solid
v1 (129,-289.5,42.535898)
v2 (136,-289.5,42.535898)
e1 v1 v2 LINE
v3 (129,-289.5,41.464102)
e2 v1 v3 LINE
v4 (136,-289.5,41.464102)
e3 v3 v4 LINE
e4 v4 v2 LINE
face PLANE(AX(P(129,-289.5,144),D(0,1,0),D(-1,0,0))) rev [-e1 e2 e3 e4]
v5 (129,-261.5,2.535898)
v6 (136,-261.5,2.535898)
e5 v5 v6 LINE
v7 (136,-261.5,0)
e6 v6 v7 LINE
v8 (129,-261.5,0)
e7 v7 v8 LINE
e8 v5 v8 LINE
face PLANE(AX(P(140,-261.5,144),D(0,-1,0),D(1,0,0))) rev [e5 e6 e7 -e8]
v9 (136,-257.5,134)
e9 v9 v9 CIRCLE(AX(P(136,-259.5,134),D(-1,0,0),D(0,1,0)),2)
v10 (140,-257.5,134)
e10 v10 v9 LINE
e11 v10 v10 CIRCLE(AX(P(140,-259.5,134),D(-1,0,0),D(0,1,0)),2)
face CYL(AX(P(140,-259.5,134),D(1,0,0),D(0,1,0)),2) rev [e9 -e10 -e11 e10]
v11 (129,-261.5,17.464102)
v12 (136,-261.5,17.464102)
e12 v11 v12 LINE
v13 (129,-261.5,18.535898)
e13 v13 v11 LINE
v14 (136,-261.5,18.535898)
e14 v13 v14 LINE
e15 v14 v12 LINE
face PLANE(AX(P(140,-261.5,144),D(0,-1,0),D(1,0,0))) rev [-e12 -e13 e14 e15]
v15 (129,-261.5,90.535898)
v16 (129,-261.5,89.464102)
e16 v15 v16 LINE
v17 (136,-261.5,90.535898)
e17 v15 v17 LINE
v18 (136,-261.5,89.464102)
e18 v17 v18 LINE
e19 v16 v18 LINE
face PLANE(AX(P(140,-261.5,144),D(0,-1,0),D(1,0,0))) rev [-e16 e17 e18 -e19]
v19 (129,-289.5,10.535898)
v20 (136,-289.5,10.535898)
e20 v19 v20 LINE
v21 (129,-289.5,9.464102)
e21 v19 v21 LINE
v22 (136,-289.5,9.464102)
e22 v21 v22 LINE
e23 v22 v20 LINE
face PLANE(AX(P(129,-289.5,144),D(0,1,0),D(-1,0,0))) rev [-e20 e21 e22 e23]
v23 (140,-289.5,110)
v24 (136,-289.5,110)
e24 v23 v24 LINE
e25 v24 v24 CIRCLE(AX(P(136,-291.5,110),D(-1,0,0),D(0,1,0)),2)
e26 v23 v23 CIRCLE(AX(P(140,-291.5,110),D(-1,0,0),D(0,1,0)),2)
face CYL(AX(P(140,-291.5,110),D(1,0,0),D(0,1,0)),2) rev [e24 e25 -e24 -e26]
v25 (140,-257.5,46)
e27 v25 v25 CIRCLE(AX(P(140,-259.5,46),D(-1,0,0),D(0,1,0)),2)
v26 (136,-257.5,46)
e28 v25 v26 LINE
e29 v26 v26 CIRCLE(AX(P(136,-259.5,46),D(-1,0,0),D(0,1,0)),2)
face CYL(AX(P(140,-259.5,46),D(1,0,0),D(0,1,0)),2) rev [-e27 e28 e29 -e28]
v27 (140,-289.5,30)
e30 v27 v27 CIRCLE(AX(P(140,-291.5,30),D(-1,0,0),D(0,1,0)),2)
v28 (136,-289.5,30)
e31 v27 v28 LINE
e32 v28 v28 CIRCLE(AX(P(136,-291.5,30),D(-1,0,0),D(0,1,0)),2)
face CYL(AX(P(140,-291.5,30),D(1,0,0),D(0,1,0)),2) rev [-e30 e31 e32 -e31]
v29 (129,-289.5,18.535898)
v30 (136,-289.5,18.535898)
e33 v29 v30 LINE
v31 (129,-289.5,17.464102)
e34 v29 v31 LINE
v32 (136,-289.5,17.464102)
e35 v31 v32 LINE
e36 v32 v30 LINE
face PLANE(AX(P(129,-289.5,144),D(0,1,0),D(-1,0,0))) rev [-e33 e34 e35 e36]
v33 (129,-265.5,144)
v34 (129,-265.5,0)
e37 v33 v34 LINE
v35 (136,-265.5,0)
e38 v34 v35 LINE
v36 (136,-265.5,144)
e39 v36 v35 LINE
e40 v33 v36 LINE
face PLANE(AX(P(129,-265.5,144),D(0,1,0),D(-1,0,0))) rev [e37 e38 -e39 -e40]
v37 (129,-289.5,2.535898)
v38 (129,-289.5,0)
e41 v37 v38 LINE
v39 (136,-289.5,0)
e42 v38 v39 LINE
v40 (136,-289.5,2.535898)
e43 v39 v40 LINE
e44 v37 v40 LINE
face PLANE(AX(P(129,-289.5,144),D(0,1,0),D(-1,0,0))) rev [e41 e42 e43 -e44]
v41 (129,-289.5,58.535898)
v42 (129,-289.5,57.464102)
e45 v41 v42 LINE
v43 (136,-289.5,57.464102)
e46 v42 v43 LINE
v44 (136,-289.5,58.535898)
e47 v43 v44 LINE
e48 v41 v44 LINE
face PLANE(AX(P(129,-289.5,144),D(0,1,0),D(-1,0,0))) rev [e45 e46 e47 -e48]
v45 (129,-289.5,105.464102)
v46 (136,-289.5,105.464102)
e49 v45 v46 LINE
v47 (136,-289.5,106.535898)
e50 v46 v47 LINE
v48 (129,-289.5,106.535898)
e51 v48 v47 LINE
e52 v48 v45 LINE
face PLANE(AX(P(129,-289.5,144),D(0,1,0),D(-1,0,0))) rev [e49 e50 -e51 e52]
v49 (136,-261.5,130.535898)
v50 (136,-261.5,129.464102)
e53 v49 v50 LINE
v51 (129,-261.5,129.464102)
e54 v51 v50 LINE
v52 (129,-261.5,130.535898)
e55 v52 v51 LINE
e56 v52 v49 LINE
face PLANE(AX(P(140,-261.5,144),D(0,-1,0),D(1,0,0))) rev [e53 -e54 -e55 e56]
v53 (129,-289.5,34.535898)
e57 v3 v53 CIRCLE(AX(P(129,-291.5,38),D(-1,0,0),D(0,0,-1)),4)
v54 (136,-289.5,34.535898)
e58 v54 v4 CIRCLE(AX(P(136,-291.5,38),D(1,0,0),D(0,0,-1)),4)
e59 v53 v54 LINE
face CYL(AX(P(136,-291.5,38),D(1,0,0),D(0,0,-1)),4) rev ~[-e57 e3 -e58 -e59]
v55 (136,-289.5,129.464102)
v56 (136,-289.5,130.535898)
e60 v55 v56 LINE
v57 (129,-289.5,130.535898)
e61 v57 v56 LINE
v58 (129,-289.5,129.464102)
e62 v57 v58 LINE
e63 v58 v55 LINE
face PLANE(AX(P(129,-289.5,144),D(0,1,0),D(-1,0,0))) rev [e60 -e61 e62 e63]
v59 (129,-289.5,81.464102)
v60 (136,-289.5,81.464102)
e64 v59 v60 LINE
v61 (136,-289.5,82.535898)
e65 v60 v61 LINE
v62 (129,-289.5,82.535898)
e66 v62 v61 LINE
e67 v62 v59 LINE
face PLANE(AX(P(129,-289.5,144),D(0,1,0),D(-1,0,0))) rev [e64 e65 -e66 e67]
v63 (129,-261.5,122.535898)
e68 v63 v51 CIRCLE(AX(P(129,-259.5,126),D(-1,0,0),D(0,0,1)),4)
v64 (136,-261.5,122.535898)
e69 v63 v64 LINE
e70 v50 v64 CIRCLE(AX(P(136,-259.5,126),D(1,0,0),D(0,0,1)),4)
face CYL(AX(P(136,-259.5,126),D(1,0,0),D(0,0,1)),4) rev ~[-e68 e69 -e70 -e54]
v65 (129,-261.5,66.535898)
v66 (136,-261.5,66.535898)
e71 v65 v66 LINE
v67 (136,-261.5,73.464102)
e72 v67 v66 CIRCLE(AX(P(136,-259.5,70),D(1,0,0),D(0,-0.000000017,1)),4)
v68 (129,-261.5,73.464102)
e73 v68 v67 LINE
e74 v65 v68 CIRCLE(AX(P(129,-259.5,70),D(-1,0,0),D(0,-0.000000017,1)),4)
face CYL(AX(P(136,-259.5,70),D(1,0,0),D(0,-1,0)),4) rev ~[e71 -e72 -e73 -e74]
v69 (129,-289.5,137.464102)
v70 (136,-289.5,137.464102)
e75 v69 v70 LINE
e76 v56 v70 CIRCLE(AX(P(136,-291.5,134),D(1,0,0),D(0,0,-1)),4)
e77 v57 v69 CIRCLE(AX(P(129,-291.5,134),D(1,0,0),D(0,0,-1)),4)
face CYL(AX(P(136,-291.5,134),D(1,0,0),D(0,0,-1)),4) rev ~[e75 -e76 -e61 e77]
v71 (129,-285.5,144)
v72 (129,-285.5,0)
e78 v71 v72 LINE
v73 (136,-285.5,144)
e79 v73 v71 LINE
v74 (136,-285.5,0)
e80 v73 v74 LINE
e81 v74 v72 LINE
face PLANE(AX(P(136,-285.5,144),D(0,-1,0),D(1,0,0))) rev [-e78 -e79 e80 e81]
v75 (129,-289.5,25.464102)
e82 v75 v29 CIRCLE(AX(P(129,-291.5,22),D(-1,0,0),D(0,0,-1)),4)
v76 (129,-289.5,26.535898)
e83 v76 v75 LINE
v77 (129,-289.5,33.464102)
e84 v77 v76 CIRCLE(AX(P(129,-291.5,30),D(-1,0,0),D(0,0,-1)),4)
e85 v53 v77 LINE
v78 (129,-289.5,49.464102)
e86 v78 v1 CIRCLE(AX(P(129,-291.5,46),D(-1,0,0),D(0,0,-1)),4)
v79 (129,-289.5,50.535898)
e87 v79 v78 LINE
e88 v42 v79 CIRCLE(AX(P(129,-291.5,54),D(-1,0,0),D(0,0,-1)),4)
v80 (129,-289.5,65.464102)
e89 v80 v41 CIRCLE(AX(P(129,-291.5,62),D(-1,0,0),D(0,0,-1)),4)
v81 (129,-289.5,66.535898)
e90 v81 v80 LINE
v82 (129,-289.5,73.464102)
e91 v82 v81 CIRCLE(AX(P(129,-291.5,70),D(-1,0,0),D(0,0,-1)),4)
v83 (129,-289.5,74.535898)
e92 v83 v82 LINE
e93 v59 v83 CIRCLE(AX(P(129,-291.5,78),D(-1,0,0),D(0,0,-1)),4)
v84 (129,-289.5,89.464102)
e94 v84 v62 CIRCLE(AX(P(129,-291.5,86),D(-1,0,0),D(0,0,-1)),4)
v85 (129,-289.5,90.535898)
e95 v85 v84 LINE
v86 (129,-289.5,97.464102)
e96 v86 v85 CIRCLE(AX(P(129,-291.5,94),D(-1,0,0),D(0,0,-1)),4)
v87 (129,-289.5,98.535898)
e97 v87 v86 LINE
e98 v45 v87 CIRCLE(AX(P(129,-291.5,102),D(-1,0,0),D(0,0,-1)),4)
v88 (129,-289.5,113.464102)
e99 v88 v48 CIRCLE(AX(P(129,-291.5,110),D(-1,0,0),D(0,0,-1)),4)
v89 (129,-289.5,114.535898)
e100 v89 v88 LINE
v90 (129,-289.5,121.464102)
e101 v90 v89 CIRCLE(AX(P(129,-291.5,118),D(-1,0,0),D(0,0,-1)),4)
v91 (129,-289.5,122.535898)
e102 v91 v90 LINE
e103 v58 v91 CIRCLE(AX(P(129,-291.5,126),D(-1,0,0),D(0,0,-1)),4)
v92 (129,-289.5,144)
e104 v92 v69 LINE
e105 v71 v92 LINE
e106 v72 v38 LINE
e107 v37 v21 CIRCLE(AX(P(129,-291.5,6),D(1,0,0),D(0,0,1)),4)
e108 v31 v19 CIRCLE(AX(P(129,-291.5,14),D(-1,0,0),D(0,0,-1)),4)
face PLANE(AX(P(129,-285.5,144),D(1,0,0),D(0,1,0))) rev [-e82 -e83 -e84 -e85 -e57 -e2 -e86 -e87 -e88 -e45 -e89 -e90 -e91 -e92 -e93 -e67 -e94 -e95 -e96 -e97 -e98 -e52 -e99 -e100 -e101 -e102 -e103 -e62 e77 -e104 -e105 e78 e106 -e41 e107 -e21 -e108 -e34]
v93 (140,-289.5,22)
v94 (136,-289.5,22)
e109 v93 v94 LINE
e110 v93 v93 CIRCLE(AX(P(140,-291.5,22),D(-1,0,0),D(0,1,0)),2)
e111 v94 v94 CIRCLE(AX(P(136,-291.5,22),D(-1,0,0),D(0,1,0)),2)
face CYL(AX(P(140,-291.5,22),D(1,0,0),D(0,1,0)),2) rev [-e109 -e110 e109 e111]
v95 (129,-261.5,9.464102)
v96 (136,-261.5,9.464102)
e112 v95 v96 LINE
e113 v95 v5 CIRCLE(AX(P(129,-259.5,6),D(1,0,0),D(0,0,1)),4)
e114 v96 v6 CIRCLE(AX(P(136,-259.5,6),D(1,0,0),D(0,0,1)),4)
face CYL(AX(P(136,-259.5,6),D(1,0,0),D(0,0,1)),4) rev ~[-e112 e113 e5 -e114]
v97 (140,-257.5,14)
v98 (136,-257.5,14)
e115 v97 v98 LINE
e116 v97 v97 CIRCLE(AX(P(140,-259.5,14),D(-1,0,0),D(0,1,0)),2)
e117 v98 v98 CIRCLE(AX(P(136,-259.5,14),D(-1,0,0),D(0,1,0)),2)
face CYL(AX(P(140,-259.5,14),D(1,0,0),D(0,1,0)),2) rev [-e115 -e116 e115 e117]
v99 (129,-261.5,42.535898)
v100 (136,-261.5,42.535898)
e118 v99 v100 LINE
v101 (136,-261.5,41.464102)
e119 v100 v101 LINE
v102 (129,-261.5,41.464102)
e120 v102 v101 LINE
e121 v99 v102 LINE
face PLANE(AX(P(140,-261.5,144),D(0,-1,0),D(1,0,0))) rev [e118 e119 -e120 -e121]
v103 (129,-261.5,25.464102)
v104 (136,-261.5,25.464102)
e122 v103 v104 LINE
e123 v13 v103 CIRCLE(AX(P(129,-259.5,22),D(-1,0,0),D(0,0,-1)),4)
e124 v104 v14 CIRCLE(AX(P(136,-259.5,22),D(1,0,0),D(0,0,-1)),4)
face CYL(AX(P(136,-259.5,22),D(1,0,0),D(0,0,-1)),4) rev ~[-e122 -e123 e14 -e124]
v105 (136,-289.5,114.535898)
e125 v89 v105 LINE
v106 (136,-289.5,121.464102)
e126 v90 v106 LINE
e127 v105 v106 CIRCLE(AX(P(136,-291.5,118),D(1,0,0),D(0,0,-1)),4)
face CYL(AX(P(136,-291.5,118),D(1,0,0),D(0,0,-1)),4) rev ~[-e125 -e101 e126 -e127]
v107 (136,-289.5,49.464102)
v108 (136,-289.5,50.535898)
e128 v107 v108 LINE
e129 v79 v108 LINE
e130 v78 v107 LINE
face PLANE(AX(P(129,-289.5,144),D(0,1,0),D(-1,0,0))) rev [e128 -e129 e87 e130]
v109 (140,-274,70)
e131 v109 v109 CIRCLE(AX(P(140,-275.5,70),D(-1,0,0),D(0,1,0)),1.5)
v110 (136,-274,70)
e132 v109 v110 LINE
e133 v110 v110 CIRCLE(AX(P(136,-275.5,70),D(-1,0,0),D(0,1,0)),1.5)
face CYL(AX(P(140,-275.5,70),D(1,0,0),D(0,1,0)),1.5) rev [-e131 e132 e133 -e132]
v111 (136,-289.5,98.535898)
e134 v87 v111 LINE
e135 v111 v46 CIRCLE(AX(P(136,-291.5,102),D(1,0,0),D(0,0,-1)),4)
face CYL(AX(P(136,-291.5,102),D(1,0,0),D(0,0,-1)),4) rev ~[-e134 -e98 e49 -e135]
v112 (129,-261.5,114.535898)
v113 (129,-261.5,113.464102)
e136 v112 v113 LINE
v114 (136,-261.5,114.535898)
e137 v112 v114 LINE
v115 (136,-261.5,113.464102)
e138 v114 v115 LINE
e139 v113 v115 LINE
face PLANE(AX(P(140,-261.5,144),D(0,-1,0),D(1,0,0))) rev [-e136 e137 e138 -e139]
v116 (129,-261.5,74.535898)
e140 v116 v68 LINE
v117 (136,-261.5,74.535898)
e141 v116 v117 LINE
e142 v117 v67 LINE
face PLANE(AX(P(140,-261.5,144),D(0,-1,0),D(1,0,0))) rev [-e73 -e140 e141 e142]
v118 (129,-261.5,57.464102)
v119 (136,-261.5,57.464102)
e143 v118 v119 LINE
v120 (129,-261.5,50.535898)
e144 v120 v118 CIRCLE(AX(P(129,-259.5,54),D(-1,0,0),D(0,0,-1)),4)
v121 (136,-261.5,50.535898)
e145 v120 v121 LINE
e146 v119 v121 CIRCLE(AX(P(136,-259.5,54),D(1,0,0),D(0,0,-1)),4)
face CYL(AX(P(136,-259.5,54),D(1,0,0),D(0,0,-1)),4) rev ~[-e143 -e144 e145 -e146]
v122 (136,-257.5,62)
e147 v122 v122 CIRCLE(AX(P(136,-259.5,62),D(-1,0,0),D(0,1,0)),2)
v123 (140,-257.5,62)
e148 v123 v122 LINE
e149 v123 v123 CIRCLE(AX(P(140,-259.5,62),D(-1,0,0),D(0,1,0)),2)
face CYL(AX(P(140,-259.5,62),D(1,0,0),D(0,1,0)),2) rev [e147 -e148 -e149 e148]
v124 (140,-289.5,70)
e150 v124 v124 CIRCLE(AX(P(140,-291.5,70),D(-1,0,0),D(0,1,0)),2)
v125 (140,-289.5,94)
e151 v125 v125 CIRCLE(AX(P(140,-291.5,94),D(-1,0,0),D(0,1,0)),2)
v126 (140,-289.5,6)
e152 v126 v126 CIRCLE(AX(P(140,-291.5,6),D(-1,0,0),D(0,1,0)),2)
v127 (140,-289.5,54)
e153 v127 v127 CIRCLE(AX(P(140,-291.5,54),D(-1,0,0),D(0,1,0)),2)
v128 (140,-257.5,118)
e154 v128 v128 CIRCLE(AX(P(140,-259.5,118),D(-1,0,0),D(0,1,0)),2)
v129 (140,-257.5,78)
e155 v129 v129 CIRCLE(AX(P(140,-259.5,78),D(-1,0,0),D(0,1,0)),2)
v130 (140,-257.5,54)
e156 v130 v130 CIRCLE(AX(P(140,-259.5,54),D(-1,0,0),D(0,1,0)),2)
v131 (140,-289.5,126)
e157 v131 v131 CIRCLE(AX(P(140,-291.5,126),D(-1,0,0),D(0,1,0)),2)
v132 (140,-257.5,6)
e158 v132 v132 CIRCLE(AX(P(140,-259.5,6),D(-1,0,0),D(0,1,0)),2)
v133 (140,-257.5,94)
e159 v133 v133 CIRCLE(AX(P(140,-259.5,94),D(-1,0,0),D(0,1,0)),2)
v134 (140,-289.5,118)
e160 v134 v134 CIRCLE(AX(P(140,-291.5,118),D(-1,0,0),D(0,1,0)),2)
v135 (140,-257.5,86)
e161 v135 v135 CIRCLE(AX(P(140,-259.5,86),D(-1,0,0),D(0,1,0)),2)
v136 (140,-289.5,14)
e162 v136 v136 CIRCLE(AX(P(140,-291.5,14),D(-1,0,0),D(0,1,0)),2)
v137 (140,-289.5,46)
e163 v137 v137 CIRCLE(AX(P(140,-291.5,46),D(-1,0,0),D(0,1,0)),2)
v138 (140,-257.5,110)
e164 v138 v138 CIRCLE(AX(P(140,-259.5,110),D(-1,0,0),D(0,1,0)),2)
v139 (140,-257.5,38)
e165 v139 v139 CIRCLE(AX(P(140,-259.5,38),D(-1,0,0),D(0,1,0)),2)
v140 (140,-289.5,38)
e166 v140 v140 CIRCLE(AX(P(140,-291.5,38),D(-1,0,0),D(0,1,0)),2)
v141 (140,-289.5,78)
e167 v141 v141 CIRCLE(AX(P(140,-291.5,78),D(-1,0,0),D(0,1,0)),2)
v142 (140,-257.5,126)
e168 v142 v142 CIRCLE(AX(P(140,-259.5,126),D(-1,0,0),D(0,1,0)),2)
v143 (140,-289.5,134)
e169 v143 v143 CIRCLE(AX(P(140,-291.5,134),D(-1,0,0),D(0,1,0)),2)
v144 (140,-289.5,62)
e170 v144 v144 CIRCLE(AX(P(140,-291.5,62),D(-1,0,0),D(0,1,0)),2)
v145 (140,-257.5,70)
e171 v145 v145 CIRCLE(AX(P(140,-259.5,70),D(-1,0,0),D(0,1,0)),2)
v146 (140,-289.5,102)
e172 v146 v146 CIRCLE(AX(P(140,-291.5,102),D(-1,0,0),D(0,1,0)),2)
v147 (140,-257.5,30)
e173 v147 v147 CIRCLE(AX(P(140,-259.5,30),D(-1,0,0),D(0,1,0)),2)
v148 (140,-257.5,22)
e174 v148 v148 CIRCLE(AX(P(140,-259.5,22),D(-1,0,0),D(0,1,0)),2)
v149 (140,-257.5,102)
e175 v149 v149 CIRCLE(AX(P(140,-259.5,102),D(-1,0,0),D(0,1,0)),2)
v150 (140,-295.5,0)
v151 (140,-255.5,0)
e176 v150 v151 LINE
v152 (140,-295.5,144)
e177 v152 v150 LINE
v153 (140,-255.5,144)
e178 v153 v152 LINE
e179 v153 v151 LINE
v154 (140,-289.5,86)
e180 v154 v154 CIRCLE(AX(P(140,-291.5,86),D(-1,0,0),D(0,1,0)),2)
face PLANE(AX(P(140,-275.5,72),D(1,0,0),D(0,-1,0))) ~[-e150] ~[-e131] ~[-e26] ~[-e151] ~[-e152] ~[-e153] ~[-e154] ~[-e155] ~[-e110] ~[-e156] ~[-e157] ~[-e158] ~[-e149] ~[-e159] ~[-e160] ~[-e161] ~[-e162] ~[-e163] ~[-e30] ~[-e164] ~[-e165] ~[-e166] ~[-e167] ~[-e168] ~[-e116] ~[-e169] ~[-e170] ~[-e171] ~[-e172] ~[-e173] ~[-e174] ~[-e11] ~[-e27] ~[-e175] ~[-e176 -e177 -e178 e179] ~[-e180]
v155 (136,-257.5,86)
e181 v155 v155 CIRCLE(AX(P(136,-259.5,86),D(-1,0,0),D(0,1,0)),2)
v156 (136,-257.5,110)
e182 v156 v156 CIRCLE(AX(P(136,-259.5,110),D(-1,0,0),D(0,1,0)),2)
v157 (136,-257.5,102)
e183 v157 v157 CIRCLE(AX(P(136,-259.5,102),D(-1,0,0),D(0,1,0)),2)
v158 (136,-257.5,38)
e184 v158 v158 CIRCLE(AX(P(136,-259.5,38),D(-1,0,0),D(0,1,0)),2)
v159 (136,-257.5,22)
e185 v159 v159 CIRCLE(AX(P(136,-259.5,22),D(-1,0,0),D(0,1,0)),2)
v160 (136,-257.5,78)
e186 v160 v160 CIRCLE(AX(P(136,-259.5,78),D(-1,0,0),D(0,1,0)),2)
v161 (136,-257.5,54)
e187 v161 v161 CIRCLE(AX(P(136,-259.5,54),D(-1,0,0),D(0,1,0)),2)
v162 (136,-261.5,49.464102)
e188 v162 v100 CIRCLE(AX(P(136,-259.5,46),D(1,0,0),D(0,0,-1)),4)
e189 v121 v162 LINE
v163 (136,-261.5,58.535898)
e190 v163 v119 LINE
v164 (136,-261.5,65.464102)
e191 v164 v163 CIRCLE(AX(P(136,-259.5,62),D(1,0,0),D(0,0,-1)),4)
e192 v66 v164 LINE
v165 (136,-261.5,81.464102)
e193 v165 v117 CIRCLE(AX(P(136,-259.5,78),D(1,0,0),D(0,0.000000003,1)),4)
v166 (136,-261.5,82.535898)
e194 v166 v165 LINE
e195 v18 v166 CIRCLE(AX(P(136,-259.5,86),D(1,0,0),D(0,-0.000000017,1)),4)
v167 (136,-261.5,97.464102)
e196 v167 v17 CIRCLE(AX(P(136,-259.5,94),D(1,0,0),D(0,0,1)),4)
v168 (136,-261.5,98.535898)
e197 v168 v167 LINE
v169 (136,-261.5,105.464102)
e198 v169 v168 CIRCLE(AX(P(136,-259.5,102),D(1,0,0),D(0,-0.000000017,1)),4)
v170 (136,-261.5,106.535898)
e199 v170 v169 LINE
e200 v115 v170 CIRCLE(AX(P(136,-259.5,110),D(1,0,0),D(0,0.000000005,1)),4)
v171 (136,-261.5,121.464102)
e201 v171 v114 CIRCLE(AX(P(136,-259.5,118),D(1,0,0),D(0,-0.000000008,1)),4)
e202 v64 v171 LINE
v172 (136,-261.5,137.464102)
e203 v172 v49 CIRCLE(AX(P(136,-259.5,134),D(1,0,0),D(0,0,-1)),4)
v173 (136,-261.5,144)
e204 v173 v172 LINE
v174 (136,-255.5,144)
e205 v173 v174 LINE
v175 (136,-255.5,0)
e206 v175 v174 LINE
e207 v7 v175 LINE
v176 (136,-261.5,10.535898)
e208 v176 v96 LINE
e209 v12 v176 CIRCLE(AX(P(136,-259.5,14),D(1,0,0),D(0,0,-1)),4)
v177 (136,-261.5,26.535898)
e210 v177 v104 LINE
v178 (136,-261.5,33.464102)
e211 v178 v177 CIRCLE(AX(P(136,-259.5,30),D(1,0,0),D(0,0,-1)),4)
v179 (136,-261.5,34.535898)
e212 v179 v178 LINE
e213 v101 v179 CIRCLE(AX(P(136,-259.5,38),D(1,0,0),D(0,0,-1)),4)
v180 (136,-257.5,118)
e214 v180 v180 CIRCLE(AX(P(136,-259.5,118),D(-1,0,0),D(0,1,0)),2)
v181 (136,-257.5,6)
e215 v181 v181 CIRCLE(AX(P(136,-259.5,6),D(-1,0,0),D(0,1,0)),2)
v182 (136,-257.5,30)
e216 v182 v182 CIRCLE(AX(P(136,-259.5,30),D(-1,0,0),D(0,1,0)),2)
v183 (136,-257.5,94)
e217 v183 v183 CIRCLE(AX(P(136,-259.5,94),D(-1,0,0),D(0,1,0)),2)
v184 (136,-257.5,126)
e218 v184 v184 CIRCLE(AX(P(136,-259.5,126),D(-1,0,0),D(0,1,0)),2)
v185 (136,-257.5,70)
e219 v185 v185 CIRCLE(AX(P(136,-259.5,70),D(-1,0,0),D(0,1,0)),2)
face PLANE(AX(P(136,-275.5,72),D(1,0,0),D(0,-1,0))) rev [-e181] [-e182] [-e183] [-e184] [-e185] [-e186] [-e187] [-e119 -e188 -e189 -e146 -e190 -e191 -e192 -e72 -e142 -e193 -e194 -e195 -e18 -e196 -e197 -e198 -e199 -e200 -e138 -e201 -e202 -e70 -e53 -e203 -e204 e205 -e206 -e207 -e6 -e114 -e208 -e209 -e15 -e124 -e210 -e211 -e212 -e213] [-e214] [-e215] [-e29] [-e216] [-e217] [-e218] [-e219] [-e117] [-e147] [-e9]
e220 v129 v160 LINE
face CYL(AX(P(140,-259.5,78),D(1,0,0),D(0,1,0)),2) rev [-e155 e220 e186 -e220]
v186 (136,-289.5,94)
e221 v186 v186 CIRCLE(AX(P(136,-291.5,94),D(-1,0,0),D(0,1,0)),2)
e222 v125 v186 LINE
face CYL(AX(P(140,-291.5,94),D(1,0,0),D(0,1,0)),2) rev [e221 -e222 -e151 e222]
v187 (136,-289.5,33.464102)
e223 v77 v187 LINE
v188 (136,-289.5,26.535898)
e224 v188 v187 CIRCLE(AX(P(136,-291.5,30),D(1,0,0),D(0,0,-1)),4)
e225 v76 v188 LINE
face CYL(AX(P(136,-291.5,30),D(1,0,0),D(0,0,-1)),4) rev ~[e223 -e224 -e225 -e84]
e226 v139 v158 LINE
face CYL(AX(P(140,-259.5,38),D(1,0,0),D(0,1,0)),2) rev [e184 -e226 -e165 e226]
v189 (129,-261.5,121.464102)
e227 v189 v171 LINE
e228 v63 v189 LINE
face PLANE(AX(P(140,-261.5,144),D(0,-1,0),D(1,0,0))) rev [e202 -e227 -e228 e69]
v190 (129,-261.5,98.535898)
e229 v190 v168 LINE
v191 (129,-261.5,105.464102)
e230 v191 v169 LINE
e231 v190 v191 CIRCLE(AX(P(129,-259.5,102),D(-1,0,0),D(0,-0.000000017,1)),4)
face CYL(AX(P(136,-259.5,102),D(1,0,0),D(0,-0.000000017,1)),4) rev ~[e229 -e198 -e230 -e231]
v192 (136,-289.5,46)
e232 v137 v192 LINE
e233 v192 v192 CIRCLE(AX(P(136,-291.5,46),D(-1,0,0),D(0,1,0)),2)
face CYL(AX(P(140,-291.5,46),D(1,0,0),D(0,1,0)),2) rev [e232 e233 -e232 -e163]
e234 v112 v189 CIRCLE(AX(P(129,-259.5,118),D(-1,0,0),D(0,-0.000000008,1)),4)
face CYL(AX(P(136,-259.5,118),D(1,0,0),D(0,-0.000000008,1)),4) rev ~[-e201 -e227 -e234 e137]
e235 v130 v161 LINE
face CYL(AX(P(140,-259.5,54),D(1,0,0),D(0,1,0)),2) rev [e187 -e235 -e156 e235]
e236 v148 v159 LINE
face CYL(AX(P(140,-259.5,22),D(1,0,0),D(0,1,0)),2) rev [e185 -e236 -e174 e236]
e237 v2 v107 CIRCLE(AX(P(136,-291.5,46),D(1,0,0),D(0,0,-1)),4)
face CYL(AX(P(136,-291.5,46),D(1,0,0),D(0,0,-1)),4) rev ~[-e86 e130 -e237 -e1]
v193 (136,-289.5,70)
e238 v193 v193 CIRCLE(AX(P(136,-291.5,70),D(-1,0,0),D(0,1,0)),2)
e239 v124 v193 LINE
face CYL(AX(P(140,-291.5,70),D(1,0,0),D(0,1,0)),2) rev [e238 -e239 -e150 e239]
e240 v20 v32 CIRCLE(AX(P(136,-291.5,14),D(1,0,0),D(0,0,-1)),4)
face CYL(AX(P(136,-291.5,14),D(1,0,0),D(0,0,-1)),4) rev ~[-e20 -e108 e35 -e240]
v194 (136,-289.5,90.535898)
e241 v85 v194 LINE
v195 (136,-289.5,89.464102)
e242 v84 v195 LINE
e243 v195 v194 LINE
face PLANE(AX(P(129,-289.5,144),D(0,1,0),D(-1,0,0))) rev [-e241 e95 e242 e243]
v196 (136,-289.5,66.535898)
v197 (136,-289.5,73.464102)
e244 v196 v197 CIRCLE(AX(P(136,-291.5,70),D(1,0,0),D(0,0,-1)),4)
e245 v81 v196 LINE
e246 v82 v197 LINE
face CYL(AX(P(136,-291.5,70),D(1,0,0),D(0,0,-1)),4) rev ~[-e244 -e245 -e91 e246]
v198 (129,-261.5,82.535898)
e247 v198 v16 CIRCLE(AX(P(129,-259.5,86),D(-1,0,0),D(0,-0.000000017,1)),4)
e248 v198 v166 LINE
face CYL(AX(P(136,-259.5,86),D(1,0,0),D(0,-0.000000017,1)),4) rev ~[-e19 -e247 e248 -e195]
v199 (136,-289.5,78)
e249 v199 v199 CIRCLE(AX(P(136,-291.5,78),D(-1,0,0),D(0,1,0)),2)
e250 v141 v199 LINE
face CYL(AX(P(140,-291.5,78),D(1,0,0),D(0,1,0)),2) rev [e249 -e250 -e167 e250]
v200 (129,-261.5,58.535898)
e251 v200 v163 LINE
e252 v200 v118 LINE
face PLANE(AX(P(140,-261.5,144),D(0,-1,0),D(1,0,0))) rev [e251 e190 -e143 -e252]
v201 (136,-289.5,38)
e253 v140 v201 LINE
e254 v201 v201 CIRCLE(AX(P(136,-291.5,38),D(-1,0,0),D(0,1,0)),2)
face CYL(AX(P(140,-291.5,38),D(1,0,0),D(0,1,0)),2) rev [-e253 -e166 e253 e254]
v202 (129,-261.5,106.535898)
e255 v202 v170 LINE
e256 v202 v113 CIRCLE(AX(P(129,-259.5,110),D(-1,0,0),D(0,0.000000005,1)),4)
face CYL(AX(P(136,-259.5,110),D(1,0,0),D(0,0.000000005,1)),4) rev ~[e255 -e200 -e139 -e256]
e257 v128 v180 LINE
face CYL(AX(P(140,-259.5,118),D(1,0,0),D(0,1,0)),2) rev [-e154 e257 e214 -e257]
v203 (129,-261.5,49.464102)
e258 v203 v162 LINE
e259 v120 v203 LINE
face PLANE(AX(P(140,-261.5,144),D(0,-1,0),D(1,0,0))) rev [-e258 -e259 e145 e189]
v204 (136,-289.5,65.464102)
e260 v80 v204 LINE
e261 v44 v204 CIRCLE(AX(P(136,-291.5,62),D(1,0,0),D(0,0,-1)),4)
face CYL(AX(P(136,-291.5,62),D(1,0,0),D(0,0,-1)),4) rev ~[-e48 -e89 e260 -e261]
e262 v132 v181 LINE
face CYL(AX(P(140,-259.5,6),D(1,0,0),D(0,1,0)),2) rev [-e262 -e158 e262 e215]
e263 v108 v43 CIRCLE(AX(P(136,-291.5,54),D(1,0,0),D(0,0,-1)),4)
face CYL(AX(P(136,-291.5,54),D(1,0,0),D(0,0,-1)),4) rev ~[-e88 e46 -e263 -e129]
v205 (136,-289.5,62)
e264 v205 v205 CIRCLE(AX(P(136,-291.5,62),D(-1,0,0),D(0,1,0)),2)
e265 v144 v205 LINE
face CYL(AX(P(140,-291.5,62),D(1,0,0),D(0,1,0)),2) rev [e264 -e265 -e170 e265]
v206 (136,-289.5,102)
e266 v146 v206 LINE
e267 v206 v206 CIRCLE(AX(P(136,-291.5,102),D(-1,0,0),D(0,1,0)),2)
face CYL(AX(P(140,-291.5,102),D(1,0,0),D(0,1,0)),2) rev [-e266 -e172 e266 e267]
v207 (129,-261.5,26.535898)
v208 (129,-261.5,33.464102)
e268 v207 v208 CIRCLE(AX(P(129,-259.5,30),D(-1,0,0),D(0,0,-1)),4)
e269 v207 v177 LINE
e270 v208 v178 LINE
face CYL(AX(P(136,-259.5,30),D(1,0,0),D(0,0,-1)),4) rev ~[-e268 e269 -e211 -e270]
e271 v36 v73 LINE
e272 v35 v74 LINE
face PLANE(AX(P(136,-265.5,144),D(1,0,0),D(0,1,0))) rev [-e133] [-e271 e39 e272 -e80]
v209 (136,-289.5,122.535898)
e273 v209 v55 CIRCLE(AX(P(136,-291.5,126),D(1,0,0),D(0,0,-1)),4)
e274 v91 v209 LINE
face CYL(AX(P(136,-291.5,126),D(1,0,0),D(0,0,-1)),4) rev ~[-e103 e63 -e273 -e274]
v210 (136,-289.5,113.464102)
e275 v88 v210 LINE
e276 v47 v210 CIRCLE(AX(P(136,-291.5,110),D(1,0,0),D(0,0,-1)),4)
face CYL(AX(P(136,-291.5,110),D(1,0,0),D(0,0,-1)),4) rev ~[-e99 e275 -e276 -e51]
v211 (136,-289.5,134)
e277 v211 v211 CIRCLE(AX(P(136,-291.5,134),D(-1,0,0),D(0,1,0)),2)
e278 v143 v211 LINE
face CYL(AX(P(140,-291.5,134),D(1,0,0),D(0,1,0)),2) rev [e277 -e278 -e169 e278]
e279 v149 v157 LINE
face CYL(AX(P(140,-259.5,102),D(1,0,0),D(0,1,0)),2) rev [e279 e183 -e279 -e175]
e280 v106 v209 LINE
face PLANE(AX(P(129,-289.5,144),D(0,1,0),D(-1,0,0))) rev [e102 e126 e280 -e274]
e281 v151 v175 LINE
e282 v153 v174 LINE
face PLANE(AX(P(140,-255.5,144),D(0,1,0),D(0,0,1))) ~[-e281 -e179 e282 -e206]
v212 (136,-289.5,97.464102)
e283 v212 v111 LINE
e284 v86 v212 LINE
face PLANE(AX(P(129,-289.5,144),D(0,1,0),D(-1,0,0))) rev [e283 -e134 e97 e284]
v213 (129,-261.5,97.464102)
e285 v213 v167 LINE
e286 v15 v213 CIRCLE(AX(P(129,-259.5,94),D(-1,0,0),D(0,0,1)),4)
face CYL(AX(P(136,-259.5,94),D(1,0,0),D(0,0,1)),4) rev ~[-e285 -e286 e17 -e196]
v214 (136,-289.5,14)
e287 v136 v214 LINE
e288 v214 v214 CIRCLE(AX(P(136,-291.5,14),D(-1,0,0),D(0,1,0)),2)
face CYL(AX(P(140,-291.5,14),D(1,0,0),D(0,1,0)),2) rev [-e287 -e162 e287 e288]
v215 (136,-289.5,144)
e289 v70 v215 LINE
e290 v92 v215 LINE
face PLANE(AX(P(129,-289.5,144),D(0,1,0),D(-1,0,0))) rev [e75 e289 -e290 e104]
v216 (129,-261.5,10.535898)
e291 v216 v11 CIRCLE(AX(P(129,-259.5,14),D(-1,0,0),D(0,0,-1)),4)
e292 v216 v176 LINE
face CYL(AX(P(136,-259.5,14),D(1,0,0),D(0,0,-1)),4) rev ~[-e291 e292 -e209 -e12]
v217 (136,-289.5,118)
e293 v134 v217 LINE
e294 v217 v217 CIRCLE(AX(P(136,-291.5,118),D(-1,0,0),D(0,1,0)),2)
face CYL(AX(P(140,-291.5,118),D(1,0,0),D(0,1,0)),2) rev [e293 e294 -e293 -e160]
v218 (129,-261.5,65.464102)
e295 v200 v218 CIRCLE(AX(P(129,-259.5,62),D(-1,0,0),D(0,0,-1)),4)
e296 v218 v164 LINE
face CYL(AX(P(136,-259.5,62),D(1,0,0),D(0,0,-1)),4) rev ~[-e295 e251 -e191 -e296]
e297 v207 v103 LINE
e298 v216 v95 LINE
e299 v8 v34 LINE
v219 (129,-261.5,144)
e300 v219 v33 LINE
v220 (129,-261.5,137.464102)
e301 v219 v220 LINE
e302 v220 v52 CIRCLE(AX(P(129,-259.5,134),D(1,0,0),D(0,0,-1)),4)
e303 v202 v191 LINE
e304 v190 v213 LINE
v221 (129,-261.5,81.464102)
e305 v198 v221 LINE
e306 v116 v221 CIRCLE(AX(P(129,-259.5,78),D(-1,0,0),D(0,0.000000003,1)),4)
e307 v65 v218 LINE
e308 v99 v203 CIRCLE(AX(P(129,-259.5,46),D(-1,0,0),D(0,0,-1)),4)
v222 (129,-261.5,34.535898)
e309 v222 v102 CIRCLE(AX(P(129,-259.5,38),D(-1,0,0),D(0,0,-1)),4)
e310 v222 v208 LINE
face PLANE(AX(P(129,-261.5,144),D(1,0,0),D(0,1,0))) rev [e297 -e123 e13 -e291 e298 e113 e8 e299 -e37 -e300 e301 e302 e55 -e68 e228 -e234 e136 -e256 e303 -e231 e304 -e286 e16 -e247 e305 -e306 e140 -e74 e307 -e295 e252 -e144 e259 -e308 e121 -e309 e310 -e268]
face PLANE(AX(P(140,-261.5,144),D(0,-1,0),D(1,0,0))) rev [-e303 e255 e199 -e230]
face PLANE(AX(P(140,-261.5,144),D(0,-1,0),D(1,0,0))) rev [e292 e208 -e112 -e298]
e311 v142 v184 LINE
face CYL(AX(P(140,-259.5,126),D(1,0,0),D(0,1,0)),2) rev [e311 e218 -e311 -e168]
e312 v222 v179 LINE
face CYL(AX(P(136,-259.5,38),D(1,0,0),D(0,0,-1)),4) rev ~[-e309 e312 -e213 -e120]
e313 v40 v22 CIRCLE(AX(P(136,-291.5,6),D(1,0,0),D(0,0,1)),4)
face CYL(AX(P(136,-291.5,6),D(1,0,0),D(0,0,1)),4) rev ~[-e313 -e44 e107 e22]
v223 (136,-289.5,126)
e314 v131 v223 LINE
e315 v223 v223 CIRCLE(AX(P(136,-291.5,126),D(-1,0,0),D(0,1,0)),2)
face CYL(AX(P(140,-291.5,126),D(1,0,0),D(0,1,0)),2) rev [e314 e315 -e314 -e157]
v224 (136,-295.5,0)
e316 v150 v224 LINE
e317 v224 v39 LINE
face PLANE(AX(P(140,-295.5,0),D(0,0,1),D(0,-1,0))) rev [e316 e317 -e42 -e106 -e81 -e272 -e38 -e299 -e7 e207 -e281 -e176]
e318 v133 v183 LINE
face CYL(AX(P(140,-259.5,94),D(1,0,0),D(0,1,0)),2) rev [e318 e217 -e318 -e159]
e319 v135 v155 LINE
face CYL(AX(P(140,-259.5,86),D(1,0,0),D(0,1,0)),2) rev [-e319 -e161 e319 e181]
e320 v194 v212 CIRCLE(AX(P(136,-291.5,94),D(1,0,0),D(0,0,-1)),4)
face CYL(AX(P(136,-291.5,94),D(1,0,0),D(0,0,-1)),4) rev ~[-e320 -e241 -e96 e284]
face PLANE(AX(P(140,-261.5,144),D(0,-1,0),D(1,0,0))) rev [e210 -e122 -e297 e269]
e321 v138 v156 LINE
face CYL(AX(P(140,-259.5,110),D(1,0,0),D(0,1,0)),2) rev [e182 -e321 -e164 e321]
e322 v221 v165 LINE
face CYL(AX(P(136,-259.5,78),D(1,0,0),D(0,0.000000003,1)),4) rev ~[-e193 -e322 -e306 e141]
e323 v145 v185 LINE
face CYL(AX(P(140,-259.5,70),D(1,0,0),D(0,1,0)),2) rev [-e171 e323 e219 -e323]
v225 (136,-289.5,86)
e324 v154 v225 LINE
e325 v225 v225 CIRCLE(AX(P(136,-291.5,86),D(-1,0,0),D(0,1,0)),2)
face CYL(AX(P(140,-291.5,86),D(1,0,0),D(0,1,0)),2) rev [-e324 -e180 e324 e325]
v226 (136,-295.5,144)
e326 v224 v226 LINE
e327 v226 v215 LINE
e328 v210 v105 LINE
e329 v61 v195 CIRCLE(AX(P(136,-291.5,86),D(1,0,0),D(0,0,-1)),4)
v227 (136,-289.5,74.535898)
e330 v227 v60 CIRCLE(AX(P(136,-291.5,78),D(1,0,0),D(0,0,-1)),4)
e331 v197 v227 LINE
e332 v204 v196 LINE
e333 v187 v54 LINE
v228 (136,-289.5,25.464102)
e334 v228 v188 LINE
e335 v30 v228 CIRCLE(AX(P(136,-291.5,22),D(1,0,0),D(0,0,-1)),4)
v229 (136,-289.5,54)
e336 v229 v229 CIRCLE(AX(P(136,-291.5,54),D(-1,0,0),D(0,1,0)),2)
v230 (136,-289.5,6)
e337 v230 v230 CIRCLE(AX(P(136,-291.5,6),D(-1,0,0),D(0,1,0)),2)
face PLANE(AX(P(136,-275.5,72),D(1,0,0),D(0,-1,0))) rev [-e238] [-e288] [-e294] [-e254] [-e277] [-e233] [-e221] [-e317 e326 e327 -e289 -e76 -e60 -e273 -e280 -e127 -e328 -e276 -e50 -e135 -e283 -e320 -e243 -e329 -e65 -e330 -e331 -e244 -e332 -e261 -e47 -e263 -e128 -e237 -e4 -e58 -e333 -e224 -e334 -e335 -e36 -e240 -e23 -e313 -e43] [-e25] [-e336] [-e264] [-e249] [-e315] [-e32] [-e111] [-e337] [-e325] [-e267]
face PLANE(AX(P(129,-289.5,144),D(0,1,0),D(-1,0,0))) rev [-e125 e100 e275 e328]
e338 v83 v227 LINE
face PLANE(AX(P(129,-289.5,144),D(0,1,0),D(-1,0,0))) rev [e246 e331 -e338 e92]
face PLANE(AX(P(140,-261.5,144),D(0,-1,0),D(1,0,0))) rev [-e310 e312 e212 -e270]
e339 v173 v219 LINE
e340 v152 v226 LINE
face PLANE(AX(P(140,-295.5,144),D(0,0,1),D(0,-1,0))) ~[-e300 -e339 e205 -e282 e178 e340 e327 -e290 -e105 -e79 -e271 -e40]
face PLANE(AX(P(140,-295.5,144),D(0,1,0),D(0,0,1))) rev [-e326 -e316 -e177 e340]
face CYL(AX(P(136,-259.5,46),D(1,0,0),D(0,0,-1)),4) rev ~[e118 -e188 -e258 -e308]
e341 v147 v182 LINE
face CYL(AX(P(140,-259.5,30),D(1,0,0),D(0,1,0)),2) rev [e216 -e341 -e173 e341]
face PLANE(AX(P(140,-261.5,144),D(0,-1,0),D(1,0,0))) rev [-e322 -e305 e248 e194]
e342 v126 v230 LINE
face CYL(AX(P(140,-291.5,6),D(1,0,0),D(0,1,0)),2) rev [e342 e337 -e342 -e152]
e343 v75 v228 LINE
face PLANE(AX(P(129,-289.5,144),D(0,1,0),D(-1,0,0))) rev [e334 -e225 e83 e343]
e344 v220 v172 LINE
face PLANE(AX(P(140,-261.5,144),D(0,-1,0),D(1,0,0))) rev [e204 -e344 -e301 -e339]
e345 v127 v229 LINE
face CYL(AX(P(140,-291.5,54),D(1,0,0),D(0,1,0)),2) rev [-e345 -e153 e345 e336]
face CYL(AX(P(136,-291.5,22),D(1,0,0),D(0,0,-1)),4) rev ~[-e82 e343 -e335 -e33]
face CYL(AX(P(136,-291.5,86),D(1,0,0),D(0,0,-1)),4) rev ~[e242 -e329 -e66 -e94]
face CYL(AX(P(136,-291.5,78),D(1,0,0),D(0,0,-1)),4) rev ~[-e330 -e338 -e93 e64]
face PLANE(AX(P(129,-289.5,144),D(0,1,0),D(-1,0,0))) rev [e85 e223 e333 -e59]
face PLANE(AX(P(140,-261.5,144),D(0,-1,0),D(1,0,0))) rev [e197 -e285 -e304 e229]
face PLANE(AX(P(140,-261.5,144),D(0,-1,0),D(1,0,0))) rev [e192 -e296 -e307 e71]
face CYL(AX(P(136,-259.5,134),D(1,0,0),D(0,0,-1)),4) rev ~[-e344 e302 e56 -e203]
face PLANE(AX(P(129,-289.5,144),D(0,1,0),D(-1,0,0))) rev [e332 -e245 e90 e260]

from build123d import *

# Parameters (mm, degrees)
PAD039_DEPTH            = 144
SKETCH079_W             = 40
SKETCH079_H             = 144
PAD040_DEPTH            = 4
SKETCH080_R             = 1.5
POCKET038_DEPTH         = 5
SKETCH081_R             = 2
POCKET039_DEPTH         = 4
SKETCH082_R             = 4
POCKET040_DEPTH         = 7
BODY022_PLACEMENT_ANGLE = 90


with BuildPart() as leftback002:
    # Sketch078 → Pad039 (new body)
    with BuildSketch(Plane.XZ):
        Polygon((0, 0), (0, 10), (7, 10), (7, 14), (-4, 14), (-4, -14), (7, -14), (7, -10), (0, -10), align=None)
    extrude(amount=PAD039_DEPTH)

    # Sketch079 (on Face4 of Pad039) → Pad040 (join)
    with BuildSketch(Plane(origin=(-4, 0, 0), x_dir=(0, 0, -1), z_dir=(-1, 0, 0))):
        with Locations((0, 72)):
            Rectangle(SKETCH079_W, SKETCH079_H)
    extrude(amount=-PAD040_DEPTH)

    # Sketch080 (on Face14 of Pad040) → Pocket038 (cut)
    with BuildSketch(Plane(origin=(-4, 0, 0), x_dir=(0, 0, -1), z_dir=(-1, 0, 0))):
        with Locations((0, 74)):
            Circle(SKETCH080_R)
    extrude(amount=-POCKET038_DEPTH, mode=Mode.SUBTRACT)

    # Sketch081 (on Face13 of Pocket038) → Pocket039 (cut)
    with BuildSketch(Plane(origin=(-4, 0, 0), x_dir=(0, 0, -1), z_dir=(-1, 0, 0))):
        with Locations((-16, 10)):
            Circle(SKETCH081_R)
        with Locations((-16, 18)):
            Circle(SKETCH081_R)
        with Locations((-16, 26)):
            Circle(SKETCH081_R)
        with Locations((-16, 34)):
            Circle(SKETCH081_R)
        with Locations((-16, 42)):
            Circle(SKETCH081_R)
        with Locations((-16, 50)):
            Circle(SKETCH081_R)
        with Locations((-16, 58)):
            Circle(SKETCH081_R)
        with Locations((-16, 66)):
            Circle(SKETCH081_R)
        with Locations((-16, 138)):
            Circle(SKETCH081_R)
        with Locations((-16, 130)):
            Circle(SKETCH081_R)
        with Locations((-16, 122)):
            Circle(SKETCH081_R)
        with Locations((-16, 114)):
            Circle(SKETCH081_R)
        with Locations((-16, 106)):
            Circle(SKETCH081_R)
        with Locations((-16, 98)):
            Circle(SKETCH081_R)
        with Locations((-16, 90)):
            Circle(SKETCH081_R)
        with Locations((-16, 82)):
            Circle(SKETCH081_R)
        with Locations((-16, 74)):
            Circle(SKETCH081_R)
        with Locations((16, 138)):
            Circle(SKETCH081_R)
        with Locations((16, 130)):
            Circle(SKETCH081_R)
        with Locations((16, 122)):
            Circle(SKETCH081_R)
        with Locations((16, 114)):
            Circle(SKETCH081_R)
        with Locations((16, 106)):
            Circle(SKETCH081_R)
        with Locations((16, 98)):
            Circle(SKETCH081_R)
        with Locations((16, 90)):
            Circle(SKETCH081_R)
        with Locations((16, 82)):
            Circle(SKETCH081_R)
        with Locations((16, 74)):
            Circle(SKETCH081_R)
        with Locations((16, 66)):
            Circle(SKETCH081_R)
        with Locations((16, 58)):
            Circle(SKETCH081_R)
        with Locations((16, 50)):
            Circle(SKETCH081_R)
        with Locations((16, 42)):
            Circle(SKETCH081_R)
        with Locations((16, 34)):
            Circle(SKETCH081_R)
        with Locations((16, 26)):
            Circle(SKETCH081_R)
        with Locations((16, 18)):
            Circle(SKETCH081_R)
        with Locations((16, 10)):
            Circle(SKETCH081_R)
    extrude(amount=-POCKET039_DEPTH, mode=Mode.SUBTRACT)

    # Sketch082 (on Face15 of Pocket038) → Pocket040 (cut)
    with BuildSketch(Plane(origin=(0, 0, 0), x_dir=(0, 0, 1), z_dir=(1, 0, 0))):
        with Locations((-16, 10)):
            Circle(SKETCH082_R)
        with Locations((-16, 18)):
            Circle(SKETCH082_R)
        with Locations((-16, 26)):
            Circle(SKETCH082_R)
        with Locations((-16, 34)):
            Circle(SKETCH082_R)
        with Locations((-16, 42)):
            Circle(SKETCH082_R)
        with Locations((-16, 50)):
            Circle(SKETCH082_R)
        with Locations((-16, 58)):
            Circle(SKETCH082_R)
        with Locations((-16, 66)):
            Circle(SKETCH082_R)
        with Locations((-16, 138)):
            Circle(SKETCH082_R)
        with Locations((-16, 130)):
            Circle(SKETCH082_R)
        with Locations((-16, 122)):
            Circle(SKETCH082_R)
        with Locations((-16, 114)):
            Circle(SKETCH082_R)
        with Locations((-16, 106)):
            Circle(SKETCH082_R)
        with Locations((-16, 98)):
            Circle(SKETCH082_R)
        with Locations((-16, 90)):
            Circle(SKETCH082_R)
        with Locations((-16, 82)):
            Circle(SKETCH082_R)
        with Locations((-16, 74)):
            Circle(SKETCH082_R)
        with Locations((16, 138)):
            Circle(SKETCH082_R)
        with Locations((16, 130)):
            Circle(SKETCH082_R)
        with Locations((16, 122)):
            Circle(SKETCH082_R)
        with Locations((16, 114)):
            Circle(SKETCH082_R)
        with Locations((16, 106)):
            Circle(SKETCH082_R)
        with Locations((16, 98)):
            Circle(SKETCH082_R)
        with Locations((16, 90)):
            Circle(SKETCH082_R)
        with Locations((16, 82)):
            Circle(SKETCH082_R)
        with Locations((16, 74)):
            Circle(SKETCH082_R)
        with Locations((16, 66)):
            Circle(SKETCH082_R)
        with Locations((16, 58)):
            Circle(SKETCH082_R)
        with Locations((16, 50)):
            Circle(SKETCH082_R)
        with Locations((16, 42)):
            Circle(SKETCH082_R)
        with Locations((16, 34)):
            Circle(SKETCH082_R)
        with Locations((16, 26)):
            Circle(SKETCH082_R)
        with Locations((16, 18)):
            Circle(SKETCH082_R)
        with Locations((16, 10)):
            Circle(SKETCH082_R)
    extrude(amount=POCKET040_DEPTH, mode=Mode.SUBTRACT)


with BuildPart() as leftback002_1:
    # Body022 placement: moved
    add(leftback002.part.moved(Location((-136, -275.5, 144))).rotate(Axis((-136, -275.5, 144), (1, 0, 0)), BODY022_PLACEMENT_ANGLE))


with BuildPart() as rightback002:
    # Part__Mirroring010: instance of LeftBack002
    add(leftback002_1.part.mirror(Plane(origin=(0, 0, 0), x_dir=(0, -1, 0), z_dir=(1, 0, 0))))


solid = rightback002.part
